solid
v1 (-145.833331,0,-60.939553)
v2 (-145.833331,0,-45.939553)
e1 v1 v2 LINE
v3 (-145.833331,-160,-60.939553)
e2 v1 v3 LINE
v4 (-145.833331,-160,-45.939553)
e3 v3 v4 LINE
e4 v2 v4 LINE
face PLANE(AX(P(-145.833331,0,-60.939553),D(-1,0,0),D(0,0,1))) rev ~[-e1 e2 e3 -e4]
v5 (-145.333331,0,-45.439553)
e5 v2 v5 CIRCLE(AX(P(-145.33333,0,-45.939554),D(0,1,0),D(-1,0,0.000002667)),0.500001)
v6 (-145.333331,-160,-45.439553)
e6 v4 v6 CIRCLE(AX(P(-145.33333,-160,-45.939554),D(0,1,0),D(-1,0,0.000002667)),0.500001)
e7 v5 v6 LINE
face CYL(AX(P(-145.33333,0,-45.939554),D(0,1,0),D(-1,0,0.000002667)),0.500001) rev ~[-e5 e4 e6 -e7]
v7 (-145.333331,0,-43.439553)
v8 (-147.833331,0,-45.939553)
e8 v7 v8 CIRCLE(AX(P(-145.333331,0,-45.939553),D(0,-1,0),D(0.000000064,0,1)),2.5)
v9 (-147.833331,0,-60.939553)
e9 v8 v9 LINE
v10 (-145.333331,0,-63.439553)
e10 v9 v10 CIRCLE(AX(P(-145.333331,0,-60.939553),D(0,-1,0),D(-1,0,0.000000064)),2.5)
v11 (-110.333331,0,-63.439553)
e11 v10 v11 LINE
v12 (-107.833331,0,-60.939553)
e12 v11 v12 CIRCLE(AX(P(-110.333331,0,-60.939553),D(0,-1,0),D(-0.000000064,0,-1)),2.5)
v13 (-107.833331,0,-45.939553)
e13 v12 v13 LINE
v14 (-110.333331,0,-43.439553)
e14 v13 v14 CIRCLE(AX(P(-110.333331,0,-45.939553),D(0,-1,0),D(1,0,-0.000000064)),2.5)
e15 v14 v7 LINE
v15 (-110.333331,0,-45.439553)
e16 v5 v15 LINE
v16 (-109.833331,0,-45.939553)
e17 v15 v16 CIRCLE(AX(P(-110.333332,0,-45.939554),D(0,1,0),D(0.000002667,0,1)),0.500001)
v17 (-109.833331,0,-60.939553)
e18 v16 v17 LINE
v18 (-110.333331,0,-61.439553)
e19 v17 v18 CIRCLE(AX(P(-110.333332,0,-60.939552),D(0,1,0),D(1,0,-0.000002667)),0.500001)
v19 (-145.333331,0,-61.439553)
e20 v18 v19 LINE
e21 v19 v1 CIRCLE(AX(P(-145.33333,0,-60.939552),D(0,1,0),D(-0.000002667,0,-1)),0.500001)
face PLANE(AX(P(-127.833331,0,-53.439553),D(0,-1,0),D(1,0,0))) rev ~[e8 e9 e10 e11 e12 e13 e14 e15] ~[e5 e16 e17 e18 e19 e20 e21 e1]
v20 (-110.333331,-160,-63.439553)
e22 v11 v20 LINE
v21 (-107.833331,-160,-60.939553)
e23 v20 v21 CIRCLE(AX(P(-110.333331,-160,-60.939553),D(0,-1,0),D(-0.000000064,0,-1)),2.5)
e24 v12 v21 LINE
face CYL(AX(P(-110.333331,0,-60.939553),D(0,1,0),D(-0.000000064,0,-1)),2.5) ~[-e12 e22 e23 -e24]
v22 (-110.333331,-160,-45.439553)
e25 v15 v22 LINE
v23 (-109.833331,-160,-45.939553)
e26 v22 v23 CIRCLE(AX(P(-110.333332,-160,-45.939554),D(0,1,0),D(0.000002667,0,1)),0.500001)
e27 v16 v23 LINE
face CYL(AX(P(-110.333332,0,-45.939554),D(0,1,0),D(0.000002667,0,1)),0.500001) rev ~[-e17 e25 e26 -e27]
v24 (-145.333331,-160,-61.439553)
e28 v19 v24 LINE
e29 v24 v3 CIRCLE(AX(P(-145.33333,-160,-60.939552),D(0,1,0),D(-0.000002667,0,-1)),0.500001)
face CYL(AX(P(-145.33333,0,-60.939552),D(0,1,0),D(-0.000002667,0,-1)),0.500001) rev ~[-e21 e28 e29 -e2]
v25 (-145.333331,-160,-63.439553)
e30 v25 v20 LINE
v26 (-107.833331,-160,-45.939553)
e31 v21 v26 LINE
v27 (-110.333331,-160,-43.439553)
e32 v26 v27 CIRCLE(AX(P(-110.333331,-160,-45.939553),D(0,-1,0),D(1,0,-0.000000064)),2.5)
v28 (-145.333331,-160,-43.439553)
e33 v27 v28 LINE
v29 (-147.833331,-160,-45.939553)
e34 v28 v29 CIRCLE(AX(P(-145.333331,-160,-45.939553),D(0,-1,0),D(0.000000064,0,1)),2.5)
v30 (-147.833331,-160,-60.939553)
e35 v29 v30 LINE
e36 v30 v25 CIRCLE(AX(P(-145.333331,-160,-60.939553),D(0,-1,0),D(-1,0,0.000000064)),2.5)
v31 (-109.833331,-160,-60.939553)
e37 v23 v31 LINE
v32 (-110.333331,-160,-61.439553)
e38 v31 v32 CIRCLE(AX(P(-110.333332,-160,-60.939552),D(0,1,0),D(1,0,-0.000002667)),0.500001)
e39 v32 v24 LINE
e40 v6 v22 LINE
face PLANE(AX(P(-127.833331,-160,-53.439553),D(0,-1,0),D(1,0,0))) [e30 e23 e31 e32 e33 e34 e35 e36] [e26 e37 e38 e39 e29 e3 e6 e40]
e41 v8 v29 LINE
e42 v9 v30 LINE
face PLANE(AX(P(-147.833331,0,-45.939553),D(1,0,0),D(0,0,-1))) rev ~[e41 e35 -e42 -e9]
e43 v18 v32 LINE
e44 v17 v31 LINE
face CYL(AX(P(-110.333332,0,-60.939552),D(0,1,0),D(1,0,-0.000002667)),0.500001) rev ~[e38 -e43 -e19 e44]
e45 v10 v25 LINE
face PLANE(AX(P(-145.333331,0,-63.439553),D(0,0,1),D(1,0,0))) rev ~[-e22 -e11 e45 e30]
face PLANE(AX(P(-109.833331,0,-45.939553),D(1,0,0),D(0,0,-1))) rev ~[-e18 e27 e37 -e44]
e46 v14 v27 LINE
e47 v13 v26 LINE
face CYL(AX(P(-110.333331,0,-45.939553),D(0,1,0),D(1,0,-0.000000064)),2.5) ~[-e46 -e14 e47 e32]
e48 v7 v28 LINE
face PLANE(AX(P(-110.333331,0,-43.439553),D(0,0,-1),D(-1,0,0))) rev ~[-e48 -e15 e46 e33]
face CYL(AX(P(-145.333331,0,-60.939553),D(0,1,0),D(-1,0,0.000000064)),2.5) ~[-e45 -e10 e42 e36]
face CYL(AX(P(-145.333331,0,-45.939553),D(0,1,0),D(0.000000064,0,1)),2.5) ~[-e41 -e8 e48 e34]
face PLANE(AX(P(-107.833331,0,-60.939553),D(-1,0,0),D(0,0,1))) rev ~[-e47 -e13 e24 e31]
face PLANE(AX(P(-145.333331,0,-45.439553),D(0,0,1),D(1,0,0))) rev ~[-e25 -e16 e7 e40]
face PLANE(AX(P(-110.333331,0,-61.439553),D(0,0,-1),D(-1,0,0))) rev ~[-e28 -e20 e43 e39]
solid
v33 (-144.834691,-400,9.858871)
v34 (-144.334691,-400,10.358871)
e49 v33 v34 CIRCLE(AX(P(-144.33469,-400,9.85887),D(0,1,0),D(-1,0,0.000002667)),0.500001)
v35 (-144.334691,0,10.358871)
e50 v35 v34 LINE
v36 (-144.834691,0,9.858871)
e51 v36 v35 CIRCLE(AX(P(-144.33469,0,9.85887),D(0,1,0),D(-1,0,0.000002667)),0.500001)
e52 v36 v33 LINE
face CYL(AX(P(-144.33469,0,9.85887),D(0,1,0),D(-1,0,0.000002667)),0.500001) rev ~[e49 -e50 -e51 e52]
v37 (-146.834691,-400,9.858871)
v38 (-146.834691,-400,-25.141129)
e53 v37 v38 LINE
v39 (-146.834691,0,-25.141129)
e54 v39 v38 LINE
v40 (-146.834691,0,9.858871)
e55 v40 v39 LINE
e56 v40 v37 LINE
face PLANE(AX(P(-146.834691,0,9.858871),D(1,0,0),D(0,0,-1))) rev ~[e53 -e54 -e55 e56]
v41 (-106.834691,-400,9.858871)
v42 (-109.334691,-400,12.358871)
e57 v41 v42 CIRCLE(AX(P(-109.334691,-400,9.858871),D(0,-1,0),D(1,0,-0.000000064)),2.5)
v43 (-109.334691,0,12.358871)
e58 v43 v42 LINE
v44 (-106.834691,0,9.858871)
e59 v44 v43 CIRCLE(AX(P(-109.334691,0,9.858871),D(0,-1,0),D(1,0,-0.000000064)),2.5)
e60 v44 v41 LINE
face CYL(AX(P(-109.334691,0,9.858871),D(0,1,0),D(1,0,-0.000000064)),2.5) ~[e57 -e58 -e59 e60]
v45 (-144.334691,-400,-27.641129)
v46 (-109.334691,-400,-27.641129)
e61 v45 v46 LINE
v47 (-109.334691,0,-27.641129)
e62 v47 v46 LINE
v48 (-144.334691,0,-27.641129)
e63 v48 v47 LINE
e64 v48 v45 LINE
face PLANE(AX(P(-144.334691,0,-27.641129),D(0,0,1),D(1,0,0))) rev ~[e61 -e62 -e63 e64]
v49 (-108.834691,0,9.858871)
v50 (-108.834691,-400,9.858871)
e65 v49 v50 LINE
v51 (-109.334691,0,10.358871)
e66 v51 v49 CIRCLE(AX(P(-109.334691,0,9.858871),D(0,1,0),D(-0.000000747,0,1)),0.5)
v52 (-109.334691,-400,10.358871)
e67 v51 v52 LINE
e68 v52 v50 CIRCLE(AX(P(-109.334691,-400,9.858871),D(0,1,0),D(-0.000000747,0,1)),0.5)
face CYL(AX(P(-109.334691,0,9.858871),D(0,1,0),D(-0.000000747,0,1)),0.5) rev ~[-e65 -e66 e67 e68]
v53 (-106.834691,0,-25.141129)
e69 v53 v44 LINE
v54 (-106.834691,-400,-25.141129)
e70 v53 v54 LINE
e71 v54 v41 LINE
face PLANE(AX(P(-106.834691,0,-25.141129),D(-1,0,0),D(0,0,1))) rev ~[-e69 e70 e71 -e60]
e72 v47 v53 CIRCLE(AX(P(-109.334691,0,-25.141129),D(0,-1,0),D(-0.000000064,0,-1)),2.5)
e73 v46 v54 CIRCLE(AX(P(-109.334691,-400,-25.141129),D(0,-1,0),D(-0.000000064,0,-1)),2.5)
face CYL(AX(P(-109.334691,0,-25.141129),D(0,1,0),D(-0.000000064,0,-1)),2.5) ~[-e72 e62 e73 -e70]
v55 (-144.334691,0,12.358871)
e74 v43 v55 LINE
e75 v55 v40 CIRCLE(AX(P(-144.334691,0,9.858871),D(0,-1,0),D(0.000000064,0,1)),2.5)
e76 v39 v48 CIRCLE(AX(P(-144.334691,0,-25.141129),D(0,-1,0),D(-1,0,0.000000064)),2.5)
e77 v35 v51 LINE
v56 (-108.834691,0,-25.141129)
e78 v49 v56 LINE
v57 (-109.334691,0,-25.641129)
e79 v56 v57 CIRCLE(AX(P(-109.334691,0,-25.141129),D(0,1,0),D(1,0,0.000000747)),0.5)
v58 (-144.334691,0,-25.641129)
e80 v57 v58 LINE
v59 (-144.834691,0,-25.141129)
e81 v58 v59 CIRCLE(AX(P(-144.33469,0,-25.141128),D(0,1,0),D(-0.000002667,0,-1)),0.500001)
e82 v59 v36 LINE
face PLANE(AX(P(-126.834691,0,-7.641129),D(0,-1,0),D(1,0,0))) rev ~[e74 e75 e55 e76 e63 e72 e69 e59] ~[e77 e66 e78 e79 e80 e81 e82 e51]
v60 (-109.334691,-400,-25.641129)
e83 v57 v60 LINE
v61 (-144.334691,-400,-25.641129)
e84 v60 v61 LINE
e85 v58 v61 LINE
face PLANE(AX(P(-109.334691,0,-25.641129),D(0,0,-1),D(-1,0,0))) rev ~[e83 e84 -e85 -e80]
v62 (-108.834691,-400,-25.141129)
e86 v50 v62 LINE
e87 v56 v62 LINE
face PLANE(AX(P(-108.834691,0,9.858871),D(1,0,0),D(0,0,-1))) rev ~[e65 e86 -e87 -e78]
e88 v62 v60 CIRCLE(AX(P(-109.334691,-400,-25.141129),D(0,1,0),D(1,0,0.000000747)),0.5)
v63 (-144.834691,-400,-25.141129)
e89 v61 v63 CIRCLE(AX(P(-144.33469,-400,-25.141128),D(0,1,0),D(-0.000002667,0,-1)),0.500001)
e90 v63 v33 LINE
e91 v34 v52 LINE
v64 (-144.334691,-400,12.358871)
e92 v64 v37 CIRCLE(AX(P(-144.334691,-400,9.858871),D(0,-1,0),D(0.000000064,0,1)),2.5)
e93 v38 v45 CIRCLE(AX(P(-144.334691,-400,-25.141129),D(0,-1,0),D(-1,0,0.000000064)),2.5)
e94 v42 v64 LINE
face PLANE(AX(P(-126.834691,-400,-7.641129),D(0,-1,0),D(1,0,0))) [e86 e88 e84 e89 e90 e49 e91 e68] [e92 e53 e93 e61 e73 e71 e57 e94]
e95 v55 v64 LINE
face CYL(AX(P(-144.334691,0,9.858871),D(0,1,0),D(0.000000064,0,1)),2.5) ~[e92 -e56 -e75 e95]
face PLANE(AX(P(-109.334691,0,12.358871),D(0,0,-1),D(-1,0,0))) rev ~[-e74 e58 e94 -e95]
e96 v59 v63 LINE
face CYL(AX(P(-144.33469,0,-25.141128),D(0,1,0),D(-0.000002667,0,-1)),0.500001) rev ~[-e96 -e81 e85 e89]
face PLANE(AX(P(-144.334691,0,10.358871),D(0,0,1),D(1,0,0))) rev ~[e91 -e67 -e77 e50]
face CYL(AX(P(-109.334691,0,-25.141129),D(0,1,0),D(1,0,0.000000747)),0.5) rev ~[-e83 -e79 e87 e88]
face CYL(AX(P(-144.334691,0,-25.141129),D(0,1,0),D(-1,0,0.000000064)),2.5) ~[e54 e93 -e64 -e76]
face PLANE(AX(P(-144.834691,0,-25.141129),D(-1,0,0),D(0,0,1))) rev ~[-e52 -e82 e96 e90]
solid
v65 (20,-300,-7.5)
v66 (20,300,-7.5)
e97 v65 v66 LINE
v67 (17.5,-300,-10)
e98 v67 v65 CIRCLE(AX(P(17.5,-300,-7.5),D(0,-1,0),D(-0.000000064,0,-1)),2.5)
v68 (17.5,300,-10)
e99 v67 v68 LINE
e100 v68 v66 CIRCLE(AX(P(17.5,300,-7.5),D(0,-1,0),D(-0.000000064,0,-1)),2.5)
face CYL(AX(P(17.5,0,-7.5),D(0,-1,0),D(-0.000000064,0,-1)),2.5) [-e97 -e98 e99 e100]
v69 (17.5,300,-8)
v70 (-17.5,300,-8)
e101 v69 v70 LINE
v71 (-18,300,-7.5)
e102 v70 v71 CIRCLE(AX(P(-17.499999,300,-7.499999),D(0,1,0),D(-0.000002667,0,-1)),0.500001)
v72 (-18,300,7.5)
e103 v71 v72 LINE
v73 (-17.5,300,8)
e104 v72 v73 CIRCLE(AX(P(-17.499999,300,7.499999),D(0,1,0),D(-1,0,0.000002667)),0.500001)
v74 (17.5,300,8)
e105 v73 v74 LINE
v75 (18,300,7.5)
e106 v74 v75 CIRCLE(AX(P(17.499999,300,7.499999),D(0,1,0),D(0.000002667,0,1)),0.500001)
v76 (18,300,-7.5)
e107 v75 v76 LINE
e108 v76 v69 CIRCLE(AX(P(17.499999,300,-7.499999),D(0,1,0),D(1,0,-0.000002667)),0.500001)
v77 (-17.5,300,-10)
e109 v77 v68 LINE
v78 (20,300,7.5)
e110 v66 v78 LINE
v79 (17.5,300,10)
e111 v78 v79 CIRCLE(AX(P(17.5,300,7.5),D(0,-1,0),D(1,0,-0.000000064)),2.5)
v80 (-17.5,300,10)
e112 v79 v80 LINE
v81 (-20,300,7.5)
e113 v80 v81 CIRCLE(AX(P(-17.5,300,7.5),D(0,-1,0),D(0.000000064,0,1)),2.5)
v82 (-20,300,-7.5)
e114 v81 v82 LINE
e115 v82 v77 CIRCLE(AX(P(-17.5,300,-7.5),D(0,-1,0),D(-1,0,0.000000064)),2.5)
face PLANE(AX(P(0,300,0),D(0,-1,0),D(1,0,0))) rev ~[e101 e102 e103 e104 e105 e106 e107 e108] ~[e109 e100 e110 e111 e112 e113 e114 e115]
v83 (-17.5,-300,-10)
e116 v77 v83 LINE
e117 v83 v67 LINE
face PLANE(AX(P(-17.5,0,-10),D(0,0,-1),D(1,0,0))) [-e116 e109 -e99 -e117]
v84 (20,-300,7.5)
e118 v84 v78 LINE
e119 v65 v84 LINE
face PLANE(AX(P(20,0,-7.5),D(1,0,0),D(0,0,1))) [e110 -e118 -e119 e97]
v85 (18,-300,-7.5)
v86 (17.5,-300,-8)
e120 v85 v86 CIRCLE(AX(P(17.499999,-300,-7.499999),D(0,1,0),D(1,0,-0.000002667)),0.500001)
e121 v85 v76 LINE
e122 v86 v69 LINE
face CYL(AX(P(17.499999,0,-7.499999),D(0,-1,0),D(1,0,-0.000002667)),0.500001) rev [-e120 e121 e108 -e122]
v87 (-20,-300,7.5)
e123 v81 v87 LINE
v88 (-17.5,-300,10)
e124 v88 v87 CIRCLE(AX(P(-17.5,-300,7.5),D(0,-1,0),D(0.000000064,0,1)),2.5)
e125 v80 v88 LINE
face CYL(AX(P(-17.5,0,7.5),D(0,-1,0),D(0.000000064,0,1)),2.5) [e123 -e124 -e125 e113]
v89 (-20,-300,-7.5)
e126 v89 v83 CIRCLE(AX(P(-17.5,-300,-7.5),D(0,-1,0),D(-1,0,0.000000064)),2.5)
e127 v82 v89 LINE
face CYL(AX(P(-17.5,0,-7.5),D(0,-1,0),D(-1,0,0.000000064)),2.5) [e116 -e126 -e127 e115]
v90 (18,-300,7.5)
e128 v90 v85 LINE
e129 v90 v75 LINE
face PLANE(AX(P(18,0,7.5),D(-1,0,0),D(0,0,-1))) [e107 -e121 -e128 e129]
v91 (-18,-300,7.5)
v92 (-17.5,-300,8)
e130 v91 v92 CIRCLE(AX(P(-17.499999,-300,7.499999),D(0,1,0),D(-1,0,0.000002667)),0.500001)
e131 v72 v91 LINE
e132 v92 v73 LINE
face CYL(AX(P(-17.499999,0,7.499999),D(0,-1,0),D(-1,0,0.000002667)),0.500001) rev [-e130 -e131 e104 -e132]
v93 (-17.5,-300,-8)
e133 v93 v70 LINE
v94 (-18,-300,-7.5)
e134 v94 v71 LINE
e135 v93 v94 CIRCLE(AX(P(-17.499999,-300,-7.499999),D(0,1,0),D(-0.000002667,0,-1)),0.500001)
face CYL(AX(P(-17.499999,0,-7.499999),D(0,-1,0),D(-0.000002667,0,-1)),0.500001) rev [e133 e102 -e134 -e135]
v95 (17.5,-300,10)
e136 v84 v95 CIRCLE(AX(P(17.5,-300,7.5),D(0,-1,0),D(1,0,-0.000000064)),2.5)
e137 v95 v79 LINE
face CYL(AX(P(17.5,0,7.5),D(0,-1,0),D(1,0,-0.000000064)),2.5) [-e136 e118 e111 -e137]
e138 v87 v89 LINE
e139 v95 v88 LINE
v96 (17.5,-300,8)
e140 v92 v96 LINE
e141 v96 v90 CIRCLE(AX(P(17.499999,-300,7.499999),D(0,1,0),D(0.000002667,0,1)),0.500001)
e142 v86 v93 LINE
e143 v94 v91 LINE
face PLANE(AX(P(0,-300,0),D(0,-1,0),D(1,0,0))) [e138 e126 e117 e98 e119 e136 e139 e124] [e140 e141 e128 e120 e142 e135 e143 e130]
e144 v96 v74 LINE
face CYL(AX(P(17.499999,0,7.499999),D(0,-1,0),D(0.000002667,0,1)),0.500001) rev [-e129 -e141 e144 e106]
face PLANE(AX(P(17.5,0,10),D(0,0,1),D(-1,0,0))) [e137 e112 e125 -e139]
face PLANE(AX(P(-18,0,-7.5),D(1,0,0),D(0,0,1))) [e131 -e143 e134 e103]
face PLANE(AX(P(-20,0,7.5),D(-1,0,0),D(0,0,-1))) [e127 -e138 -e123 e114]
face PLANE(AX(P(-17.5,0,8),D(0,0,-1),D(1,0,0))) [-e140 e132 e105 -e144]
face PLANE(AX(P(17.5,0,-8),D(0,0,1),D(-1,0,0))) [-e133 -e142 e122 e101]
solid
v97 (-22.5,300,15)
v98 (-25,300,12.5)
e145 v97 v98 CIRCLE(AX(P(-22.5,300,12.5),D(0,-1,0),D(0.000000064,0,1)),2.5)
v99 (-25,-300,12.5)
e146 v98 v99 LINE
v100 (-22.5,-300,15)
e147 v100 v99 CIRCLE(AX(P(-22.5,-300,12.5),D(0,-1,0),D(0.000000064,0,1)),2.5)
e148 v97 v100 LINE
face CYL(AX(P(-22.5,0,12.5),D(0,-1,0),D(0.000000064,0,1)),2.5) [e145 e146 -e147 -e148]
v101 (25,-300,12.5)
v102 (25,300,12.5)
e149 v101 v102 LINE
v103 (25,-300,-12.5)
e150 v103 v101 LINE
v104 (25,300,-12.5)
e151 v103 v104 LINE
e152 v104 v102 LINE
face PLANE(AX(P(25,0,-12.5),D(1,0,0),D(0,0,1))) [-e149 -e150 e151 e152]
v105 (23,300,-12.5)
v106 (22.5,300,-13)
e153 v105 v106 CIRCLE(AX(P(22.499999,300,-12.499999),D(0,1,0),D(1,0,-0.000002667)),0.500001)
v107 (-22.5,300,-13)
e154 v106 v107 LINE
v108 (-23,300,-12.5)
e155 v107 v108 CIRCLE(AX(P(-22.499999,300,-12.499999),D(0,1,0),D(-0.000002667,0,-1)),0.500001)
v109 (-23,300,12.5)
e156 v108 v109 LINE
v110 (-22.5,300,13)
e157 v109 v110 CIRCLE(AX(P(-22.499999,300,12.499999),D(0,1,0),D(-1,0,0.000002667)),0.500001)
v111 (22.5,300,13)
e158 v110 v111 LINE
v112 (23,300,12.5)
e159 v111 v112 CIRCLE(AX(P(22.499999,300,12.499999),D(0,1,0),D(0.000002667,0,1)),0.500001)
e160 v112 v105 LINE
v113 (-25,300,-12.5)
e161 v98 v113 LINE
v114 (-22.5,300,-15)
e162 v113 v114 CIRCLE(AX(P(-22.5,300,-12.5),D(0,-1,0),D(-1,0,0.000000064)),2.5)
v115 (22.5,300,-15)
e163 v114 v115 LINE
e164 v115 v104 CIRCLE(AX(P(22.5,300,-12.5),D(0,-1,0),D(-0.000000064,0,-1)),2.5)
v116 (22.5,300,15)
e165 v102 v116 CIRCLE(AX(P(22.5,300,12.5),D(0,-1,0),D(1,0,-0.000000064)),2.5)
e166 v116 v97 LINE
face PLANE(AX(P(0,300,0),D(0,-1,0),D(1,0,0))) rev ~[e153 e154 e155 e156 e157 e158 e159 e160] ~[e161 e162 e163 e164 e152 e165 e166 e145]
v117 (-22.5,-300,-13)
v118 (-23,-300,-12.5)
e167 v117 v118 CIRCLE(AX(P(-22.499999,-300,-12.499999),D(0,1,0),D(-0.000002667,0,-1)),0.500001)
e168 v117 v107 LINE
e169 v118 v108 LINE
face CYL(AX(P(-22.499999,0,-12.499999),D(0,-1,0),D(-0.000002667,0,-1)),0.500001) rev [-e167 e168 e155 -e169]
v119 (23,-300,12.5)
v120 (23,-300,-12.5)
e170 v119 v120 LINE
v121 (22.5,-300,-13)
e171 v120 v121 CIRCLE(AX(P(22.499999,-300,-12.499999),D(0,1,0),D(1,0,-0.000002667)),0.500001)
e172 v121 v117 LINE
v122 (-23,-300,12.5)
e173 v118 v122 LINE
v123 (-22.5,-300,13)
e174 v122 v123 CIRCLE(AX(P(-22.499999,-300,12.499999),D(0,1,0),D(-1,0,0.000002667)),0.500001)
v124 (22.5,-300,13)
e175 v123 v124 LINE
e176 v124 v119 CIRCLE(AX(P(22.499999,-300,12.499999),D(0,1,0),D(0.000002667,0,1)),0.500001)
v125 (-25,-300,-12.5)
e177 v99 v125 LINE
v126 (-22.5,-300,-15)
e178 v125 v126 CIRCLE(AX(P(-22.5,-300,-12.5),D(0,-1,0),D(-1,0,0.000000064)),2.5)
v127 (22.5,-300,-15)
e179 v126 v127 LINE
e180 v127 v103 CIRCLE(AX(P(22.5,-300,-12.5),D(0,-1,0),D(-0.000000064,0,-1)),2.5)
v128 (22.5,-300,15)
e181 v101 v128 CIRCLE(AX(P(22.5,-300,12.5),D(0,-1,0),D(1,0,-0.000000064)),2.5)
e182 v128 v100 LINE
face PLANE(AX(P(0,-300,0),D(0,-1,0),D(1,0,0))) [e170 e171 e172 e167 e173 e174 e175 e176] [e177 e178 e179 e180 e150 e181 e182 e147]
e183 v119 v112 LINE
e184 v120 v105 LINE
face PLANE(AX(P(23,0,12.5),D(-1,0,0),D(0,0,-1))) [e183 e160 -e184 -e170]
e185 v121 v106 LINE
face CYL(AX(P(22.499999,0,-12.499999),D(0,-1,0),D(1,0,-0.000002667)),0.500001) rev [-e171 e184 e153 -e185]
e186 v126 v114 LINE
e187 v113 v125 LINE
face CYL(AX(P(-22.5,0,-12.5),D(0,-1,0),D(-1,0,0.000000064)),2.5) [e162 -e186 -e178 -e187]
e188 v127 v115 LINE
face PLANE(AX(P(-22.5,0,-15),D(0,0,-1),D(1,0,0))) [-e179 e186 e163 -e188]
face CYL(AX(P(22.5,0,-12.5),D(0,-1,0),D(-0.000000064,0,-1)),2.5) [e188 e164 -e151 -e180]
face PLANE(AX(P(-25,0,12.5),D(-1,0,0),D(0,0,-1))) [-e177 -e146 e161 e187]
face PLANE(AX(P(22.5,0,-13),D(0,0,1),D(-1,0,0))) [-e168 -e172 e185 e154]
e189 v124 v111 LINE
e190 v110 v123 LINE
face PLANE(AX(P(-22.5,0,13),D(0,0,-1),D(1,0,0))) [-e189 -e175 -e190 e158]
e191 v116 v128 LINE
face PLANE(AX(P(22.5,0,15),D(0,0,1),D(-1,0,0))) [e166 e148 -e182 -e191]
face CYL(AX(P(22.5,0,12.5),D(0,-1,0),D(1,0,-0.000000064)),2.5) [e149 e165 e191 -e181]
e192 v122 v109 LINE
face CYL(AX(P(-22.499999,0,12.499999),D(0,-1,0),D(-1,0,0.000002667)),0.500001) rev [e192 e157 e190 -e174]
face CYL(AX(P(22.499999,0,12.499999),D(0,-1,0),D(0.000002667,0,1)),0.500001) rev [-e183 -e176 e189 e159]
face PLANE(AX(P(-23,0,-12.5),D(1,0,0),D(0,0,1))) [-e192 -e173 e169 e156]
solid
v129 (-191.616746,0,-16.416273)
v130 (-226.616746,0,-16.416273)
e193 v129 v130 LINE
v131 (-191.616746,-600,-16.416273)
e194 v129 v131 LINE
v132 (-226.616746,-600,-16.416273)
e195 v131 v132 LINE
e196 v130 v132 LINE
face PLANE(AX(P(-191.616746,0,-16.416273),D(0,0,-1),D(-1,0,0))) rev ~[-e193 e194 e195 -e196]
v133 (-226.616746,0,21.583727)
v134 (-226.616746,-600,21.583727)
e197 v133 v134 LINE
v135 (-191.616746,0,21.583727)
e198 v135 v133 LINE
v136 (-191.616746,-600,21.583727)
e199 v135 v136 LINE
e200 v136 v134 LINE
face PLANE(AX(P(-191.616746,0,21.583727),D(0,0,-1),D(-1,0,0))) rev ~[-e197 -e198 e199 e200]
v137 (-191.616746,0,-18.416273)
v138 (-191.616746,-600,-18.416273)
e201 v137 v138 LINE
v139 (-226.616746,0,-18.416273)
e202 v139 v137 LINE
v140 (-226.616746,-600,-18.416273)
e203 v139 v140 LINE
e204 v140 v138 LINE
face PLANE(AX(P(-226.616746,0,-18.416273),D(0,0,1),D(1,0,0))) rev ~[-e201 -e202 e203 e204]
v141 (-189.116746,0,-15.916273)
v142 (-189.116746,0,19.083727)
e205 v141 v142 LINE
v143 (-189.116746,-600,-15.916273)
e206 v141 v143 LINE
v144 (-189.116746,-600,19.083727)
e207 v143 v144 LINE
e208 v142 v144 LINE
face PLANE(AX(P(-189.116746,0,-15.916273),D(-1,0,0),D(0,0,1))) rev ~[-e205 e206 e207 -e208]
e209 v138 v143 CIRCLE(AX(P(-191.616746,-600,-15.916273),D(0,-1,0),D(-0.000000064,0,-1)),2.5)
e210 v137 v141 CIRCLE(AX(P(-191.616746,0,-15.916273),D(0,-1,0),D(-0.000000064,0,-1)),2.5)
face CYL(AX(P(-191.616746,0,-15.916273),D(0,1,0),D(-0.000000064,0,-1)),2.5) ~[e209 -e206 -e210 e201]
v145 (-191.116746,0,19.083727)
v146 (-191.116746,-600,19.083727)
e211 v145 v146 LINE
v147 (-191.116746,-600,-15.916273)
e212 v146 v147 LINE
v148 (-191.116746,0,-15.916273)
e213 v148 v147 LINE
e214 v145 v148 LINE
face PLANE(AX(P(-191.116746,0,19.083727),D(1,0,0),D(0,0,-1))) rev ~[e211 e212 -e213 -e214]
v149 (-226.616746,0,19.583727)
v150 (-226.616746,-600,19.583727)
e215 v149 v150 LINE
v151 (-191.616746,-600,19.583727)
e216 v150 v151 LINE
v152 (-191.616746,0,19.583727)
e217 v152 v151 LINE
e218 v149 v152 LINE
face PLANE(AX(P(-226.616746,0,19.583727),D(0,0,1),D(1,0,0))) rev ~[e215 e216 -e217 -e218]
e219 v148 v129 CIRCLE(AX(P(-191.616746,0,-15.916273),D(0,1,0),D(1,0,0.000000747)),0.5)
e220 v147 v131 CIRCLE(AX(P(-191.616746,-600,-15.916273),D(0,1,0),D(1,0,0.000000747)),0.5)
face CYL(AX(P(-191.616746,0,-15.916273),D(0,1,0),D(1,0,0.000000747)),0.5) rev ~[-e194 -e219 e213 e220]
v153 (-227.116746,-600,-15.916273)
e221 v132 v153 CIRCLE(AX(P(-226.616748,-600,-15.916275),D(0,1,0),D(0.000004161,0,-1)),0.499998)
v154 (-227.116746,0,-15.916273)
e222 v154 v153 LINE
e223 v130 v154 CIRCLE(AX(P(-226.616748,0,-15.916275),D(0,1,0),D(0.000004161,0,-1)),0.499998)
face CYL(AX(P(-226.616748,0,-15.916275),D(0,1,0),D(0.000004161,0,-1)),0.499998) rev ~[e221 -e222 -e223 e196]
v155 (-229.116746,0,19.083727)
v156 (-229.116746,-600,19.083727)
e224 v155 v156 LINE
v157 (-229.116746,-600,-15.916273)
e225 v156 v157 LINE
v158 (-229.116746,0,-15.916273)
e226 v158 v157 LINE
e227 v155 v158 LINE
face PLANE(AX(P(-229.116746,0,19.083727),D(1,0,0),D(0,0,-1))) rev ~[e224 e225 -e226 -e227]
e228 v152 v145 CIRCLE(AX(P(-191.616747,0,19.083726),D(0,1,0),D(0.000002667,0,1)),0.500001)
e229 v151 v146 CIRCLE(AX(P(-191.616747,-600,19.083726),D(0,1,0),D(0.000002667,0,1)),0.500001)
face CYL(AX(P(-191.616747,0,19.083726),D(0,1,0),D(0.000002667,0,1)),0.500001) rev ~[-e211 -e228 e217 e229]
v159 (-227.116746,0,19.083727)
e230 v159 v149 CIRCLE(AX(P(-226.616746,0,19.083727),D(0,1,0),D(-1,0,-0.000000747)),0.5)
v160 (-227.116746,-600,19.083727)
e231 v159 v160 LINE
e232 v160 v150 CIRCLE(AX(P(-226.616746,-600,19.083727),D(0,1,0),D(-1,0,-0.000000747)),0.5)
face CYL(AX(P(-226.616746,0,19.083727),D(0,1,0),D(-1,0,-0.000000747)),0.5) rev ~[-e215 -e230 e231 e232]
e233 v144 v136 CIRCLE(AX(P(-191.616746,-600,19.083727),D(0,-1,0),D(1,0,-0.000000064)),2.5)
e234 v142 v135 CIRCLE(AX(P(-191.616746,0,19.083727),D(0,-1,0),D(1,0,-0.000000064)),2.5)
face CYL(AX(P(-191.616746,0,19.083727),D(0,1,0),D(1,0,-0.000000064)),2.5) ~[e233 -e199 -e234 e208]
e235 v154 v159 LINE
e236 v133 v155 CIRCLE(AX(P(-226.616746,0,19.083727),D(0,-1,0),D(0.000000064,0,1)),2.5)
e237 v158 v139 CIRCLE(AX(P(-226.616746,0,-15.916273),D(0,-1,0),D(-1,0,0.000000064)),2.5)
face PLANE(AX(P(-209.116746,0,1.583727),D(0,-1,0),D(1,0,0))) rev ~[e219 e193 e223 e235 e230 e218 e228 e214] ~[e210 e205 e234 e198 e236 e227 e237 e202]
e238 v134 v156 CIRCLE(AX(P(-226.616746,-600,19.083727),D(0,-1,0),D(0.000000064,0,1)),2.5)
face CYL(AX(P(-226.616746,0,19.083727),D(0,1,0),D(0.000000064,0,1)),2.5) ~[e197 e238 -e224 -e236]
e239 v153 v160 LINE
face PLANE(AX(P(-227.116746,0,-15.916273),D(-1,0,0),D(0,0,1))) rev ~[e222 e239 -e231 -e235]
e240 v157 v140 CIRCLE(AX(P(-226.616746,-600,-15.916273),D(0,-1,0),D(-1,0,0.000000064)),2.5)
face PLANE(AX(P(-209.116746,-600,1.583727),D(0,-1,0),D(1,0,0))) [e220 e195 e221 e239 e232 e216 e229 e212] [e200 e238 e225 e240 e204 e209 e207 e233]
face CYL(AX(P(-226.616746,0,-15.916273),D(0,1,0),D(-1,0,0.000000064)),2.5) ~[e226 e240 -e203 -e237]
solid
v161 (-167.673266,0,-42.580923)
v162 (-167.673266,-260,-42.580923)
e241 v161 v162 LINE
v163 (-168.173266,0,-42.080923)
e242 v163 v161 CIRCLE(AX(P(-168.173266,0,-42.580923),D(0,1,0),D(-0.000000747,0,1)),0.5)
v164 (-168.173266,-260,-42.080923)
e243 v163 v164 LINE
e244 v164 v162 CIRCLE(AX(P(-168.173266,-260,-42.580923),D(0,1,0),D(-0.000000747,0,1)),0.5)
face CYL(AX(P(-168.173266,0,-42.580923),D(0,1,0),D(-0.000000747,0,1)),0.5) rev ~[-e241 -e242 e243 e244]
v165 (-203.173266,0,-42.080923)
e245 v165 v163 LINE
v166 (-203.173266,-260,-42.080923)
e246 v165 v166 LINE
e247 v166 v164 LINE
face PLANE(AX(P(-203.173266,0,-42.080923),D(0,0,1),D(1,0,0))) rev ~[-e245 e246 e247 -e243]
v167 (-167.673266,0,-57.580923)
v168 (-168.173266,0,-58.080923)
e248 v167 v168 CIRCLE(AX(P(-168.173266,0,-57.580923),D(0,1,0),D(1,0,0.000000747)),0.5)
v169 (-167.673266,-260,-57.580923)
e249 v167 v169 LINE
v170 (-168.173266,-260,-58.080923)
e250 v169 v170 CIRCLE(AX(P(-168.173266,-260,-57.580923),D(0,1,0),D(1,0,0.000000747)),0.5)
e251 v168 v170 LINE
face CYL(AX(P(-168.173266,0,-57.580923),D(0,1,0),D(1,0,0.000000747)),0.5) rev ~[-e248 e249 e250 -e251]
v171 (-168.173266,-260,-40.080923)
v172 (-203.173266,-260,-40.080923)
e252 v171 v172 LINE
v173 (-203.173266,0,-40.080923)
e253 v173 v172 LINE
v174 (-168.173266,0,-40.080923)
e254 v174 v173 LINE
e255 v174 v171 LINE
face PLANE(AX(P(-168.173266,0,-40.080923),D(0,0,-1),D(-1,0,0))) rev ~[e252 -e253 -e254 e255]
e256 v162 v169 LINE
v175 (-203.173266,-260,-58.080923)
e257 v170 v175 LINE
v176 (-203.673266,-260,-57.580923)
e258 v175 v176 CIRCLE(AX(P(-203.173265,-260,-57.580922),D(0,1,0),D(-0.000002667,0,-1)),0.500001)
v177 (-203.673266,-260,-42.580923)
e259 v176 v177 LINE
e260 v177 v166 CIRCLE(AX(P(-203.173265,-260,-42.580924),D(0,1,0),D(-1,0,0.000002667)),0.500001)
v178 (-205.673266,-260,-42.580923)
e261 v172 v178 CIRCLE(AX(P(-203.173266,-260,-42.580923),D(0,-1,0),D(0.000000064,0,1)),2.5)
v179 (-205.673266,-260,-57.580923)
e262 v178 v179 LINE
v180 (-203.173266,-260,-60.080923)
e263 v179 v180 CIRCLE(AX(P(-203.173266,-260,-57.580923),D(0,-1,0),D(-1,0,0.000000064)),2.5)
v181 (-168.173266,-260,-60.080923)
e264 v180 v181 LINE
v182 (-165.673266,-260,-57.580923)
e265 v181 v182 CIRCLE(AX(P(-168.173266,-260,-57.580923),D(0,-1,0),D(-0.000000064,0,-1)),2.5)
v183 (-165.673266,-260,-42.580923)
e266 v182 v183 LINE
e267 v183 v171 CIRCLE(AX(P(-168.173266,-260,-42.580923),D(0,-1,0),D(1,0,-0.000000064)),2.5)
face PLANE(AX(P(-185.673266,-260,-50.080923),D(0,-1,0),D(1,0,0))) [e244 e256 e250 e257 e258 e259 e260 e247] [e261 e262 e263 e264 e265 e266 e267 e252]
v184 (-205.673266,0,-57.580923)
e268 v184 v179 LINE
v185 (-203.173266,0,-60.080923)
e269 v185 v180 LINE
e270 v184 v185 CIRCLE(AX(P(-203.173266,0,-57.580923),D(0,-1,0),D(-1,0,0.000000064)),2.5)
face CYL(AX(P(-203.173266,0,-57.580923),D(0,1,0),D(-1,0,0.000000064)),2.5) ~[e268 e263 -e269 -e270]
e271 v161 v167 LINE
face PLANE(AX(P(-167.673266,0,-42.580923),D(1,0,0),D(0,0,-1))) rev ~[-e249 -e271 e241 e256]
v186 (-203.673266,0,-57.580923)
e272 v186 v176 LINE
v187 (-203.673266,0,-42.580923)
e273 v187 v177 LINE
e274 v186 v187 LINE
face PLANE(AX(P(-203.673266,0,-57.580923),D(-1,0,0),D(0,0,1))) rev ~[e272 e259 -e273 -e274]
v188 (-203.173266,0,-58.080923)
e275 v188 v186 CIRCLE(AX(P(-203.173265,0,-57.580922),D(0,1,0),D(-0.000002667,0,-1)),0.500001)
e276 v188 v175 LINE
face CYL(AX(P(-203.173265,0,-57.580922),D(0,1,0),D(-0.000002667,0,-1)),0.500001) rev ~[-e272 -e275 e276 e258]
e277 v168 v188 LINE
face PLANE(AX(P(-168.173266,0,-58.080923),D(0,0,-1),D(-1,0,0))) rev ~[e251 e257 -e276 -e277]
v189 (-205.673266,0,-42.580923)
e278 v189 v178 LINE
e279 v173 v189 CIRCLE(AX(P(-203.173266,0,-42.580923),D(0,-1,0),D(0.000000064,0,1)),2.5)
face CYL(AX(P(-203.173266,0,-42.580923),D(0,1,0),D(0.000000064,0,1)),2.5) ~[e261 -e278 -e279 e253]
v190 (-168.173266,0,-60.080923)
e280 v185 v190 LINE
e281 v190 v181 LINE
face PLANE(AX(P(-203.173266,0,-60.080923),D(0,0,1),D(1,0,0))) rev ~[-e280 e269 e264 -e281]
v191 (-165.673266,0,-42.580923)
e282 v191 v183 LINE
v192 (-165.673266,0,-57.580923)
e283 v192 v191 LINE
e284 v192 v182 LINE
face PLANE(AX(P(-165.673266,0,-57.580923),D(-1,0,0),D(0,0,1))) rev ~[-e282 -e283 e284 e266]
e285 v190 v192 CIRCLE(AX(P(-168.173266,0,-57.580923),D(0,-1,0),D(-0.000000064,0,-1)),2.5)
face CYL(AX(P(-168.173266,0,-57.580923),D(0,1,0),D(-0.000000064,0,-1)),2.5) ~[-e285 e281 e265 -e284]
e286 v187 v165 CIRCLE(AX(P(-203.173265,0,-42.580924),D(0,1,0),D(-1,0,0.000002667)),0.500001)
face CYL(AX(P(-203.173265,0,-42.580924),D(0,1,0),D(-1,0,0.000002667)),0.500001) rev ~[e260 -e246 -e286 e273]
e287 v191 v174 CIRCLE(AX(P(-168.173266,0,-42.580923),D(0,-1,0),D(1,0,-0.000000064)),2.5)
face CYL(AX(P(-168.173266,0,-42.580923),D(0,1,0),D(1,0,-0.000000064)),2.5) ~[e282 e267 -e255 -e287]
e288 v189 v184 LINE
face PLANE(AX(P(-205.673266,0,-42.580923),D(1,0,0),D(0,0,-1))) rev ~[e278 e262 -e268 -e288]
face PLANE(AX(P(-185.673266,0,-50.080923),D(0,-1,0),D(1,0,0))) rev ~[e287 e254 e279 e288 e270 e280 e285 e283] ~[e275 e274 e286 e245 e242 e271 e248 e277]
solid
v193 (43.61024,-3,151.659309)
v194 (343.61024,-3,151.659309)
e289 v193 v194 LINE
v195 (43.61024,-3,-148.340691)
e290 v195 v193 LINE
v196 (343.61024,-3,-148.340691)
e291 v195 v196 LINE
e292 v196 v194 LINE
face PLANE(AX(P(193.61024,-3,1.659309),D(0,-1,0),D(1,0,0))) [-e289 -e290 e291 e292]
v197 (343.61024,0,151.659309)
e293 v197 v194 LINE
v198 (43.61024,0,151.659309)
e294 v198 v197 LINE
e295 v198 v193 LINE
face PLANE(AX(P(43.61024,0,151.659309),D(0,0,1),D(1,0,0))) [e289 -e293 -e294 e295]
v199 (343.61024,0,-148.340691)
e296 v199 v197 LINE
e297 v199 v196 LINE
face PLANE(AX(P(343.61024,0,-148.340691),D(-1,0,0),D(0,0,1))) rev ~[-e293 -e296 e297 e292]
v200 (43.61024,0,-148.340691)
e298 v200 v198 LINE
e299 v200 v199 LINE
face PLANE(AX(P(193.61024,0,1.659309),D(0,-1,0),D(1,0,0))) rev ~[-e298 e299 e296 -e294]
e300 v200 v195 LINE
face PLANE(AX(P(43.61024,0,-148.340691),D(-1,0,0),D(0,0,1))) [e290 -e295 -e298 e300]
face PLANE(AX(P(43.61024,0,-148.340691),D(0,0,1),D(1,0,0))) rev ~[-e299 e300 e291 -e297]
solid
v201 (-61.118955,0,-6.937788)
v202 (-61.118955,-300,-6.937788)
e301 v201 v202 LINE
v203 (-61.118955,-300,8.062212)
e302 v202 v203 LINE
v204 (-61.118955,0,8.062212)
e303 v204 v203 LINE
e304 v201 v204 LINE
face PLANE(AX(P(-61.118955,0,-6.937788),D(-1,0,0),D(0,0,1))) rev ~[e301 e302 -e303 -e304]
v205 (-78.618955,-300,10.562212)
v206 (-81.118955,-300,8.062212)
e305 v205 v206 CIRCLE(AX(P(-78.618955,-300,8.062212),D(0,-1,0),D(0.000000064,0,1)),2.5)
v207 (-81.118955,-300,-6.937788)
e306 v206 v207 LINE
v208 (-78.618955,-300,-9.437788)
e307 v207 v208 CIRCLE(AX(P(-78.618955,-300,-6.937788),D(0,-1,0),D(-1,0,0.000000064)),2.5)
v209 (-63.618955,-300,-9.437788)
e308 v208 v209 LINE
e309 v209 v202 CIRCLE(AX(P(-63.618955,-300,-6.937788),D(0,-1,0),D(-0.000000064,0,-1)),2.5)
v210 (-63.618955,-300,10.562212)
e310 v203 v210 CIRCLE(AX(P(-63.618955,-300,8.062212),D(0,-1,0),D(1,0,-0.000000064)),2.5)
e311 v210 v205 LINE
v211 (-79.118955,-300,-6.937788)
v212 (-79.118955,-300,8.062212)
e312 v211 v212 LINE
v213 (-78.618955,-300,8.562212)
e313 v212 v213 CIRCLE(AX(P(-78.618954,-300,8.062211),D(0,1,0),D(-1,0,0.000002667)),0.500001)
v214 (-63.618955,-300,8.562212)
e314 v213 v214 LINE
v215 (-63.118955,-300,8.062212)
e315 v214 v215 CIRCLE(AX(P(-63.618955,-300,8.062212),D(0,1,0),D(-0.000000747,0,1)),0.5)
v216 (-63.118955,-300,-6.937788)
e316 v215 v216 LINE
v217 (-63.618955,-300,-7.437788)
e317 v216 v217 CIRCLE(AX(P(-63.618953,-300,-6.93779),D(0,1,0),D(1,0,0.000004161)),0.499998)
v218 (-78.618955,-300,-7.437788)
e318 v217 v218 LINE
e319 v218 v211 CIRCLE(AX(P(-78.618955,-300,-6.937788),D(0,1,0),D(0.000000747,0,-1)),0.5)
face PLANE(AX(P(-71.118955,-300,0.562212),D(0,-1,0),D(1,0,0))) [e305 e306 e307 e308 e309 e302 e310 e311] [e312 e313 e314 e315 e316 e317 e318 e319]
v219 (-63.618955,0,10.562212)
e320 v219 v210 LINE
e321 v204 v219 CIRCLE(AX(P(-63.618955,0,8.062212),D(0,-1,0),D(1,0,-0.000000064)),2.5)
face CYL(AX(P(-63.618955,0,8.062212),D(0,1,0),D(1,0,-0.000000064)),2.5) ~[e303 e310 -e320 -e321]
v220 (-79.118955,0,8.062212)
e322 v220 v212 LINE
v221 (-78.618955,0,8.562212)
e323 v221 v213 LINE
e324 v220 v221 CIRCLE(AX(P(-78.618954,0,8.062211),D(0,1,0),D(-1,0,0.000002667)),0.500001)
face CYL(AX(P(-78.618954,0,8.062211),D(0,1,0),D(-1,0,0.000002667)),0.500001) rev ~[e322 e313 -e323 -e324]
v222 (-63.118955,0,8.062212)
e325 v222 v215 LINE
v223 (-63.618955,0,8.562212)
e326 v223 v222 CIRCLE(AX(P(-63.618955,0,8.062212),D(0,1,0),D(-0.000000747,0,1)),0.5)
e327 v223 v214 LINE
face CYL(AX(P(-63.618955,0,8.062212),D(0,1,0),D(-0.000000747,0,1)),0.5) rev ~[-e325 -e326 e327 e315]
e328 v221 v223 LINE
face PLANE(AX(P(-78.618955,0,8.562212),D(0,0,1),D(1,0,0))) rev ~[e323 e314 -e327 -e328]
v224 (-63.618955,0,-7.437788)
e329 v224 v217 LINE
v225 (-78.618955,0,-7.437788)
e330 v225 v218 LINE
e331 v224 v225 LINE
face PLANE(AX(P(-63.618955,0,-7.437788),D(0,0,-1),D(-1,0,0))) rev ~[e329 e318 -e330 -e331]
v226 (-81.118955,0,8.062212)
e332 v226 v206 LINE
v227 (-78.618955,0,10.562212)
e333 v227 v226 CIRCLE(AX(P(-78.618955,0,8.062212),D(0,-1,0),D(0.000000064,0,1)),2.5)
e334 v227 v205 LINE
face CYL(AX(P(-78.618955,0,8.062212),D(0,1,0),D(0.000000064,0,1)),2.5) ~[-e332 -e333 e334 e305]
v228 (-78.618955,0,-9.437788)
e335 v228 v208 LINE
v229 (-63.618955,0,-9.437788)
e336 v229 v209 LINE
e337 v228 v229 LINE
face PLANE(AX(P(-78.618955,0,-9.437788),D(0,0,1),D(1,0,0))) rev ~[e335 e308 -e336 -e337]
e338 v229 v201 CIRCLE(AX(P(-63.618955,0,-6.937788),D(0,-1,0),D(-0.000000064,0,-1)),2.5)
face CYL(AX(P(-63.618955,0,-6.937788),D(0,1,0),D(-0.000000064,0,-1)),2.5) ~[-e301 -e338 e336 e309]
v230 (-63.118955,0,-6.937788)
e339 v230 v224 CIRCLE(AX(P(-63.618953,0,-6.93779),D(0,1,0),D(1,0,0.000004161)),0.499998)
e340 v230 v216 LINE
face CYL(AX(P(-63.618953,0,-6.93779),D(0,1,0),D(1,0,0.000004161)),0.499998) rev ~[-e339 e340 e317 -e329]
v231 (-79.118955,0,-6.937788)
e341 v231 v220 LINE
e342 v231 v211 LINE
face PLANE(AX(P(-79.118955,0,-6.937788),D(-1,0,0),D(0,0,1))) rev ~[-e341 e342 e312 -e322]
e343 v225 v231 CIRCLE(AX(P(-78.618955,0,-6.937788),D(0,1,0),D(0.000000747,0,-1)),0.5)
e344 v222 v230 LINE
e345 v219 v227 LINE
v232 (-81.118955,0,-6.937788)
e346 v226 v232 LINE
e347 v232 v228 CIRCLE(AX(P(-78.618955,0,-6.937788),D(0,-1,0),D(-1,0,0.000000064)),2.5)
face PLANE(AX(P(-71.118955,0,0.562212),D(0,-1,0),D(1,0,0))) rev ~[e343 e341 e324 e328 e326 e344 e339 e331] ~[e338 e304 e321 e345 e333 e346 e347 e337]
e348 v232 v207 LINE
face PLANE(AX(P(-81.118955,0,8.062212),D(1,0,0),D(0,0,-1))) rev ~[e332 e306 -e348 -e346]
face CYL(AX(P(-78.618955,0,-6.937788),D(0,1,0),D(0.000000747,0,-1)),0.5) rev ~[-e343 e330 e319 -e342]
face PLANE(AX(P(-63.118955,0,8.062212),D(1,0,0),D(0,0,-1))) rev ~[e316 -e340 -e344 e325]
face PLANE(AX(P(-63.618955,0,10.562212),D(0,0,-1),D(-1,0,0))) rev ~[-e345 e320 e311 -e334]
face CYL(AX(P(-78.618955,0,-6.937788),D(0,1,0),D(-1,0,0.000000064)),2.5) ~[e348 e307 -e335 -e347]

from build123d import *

# Parameters (mm, degrees)
F1_DEPTH  = 300
F3_DEPTH  = 300
F6_DEPTH  = 300
F8_DEPTH  = 160
F9_W      = 300
F9_H      = 300
F10_DEPTH = 3
F12_DEPTH = 260
F14_DEPTH = 600
F15_DEPTH = 400


with BuildPart() as f1:
    # F0 (on Front) → F1 (new body, symmetric)
    with BuildSketch(Plane.XZ):
        with BuildLine():
            ThreePointArc((25, 12.5), (24.267767, 14.267767), (22.5, 15))
            Line((22.5, 15), (-22.5, 15))
            ThreePointArc((-22.5, 15), (-24.267767, 14.267767), (-25, 12.5))
            Line((-25, 12.5), (-25, -12.5))
            ThreePointArc((-25, -12.5), (-24.267767, -14.267767), (-22.5, -15))
            Line((-22.5, -15), (22.5, -15))
            ThreePointArc((22.5, -15), (24.267767, -14.267767), (25, -12.5))
            Line((25, -12.5), (25, 12.5))
        make_face()
        with BuildLine():
            Line((-22.5, 13), (22.5, 13))
            ThreePointArc((22.5, 13), (22.853553, 12.853553), (23, 12.5))
            Line((23, 12.5), (23, -12.5))
            ThreePointArc((23, -12.5), (22.853553, -12.853553), (22.5, -13))
            Line((22.5, -13), (-22.5, -13))
            ThreePointArc((-22.5, -13), (-22.853553, -12.853553), (-23, -12.5))
            Line((-23, -12.5), (-23, 12.5))
            ThreePointArc((-23, 12.5), (-22.853553, 12.853553), (-22.5, 13))
        make_face(mode=Mode.SUBTRACT)
    extrude(amount=F1_DEPTH, both=True)


with BuildPart() as f3:
    # F2 (on Front) → F3 (new body, symmetric)
    with BuildSketch(Plane.XZ):
        with BuildLine():
            Line((17.5, 10), (-17.5, 10))
            ThreePointArc((-17.5, 10), (-19.267767, 9.267767), (-20, 7.5))
            Line((-20, 7.5), (-20, -7.5))
            ThreePointArc((-20, -7.5), (-19.267767, -9.267767), (-17.5, -10))
            Line((-17.5, -10), (17.5, -10))
            ThreePointArc((17.5, -10), (19.267767, -9.267767), (20, -7.5))
            Line((20, -7.5), (20, 7.5))
            ThreePointArc((20, 7.5), (19.267767, 9.267767), (17.5, 10))
        make_face()
        with BuildLine():
            ThreePointArc((-18, 7.5), (-17.853553, 7.853553), (-17.5, 8))
            Line((-17.5, 8), (17.5, 8))
            ThreePointArc((17.5, 8), (17.853553, 7.853553), (18, 7.5))
            Line((18, 7.5), (18, -7.5))
            ThreePointArc((18, -7.5), (17.853553, -7.853553), (17.5, -8))
            Line((17.5, -8), (-17.5, -8))
            ThreePointArc((-17.5, -8), (-17.853553, -7.853553), (-18, -7.5))
            Line((-18, -7.5), (-18, 7.5))
        make_face(mode=Mode.SUBTRACT)
    extrude(amount=F3_DEPTH, both=True)


with BuildPart() as f6:
    # F5 (on Front) → F6 (new body)
    with BuildSketch(Plane.XZ):
        with BuildLine():
            Line((-63.618955, 10.562212), (-78.618955, 10.562212))
            ThreePointArc((-78.618955, 10.562212), (-80.386722, 9.829979), (-81.118955, 8.062212))
            Line((-81.118955, 8.062212), (-81.118955, -6.937788))
            ThreePointArc((-81.118955, -6.937788), (-80.386722, -8.705555), (-78.618955, -9.437788))
            Line((-78.618955, -9.437788), (-63.618955, -9.437788))
            ThreePointArc((-63.618955, -9.437788), (-61.851188, -8.705555), (-61.118955, -6.937788))
            Line((-61.118955, -6.937788), (-61.118955, 8.062212))
            ThreePointArc((-61.118955, 8.062212), (-61.851188, 9.829979), (-63.618955, 10.562212))
        make_face()
        with BuildLine():
            ThreePointArc((-79.118955, 8.062212), (-78.972508, 8.415765), (-78.618955, 8.562212))
            Line((-78.618955, 8.562212), (-63.618955, 8.562212))
            ThreePointArc((-63.618955, 8.562212), (-63.265401, 8.415765), (-63.118955, 8.062212))
            Line((-63.118955, 8.062212), (-63.118955, -6.937788))
            ThreePointArc((-63.118955, -6.937788), (-63.265401, -7.291342), (-63.618955, -7.437788))
            Line((-63.618955, -7.437788), (-78.618955, -7.437788))
            ThreePointArc((-78.618955, -7.437788), (-78.972508, -7.291342), (-79.118955, -6.937788))
            Line((-79.118955, -6.937788), (-79.118955, 8.062212))
        make_face(mode=Mode.SUBTRACT)
    extrude(amount=F6_DEPTH)


with BuildPart() as f8:
    # F7 (on Front) → F8 (new body)
    with BuildSketch(Plane.XZ):
        with BuildLine():
            Line((-110.333331, -43.439553), (-145.333331, -43.439553))
            ThreePointArc((-145.333331, -43.439553), (-147.101098, -44.171786), (-147.833331, -45.939553))
            Line((-147.833331, -45.939553), (-147.833331, -60.939553))
            ThreePointArc((-147.833331, -60.939553), (-147.101098, -62.70732), (-145.333331, -63.439553))
            Line((-145.333331, -63.439553), (-110.333331, -63.439553))
            ThreePointArc((-110.333331, -63.439553), (-108.565564, -62.70732), (-107.833331, -60.939553))
            Line((-107.833331, -60.939553), (-107.833331, -45.939553))
            ThreePointArc((-107.833331, -45.939553), (-108.565564, -44.171786), (-110.333331, -43.439553))
        make_face()
        with BuildLine():
            ThreePointArc((-145.833331, -45.939553), (-145.686884, -45.586), (-145.333331, -45.439553))
            Line((-145.333331, -45.439553), (-110.333331, -45.439553))
            ThreePointArc((-110.333331, -45.439553), (-109.979778, -45.586), (-109.833331, -45.939553))
            Line((-109.833331, -45.939553), (-109.833331, -60.939553))
            ThreePointArc((-109.833331, -60.939553), (-109.979778, -61.293106), (-110.333331, -61.439553))
            Line((-110.333331, -61.439553), (-145.333331, -61.439553))
            ThreePointArc((-145.333331, -61.439553), (-145.686884, -61.293106), (-145.833331, -60.939553))
            Line((-145.833331, -60.939553), (-145.833331, -45.939553))
        make_face(mode=Mode.SUBTRACT)
    extrude(amount=F8_DEPTH)


with BuildPart() as f10:
    # F9 (on Front) → F10 (new body)
    with BuildSketch(Plane.XZ):
        with Locations((193.61024, 1.659309)):
            Rectangle(F9_W, F9_H)
    extrude(amount=F10_DEPTH)


with BuildPart() as f12:
    # F11 (on Front) → F12 (new body)
    with BuildSketch(Plane.XZ):
        with BuildLine():
            Line((-168.173266, -40.080923), (-203.173266, -40.080923))
            ThreePointArc((-203.173266, -40.080923), (-204.941033, -40.813156), (-205.673266, -42.580923))
            Line((-205.673266, -42.580923), (-205.673266, -57.580923))
            ThreePointArc((-205.673266, -57.580923), (-204.941033, -59.34869), (-203.173266, -60.080923))
            Line((-203.173266, -60.080923), (-168.173266, -60.080923))
            ThreePointArc((-168.173266, -60.080923), (-166.405499, -59.34869), (-165.673266, -57.580923))
            Line((-165.673266, -57.580923), (-165.673266, -42.580923))
            ThreePointArc((-165.673266, -42.580923), (-166.405499, -40.813156), (-168.173266, -40.080923))
        make_face()
        with BuildLine():
            ThreePointArc((-203.673266, -42.580923), (-203.526819, -42.22737), (-203.173266, -42.080923))
            Line((-203.173266, -42.080923), (-168.173266, -42.080923))
            ThreePointArc((-168.173266, -42.080923), (-167.819712, -42.22737), (-167.673266, -42.580923))
            Line((-167.673266, -42.580923), (-167.673266, -57.580923))
            ThreePointArc((-167.673266, -57.580923), (-167.819712, -57.934476), (-168.173266, -58.080923))
            Line((-168.173266, -58.080923), (-203.173266, -58.080923))
            ThreePointArc((-203.173266, -58.080923), (-203.526819, -57.934476), (-203.673266, -57.580923))
            Line((-203.673266, -57.580923), (-203.673266, -42.580923))
        make_face(mode=Mode.SUBTRACT)
    extrude(amount=F12_DEPTH)


with BuildPart() as f14:
    # F13 (on Front) → F14 (new body)
    with BuildSketch(Plane.XZ):
        with BuildLine():
            Line((-191.616746, 21.583727), (-226.616746, 21.583727))
            ThreePointArc((-226.616746, 21.583727), (-228.384513, 20.851494), (-229.116746, 19.083727))
            Line((-229.116746, 19.083727), (-229.116746, -15.916273))
            ThreePointArc((-229.116746, -15.916273), (-228.384513, -17.68404), (-226.616746, -18.416273))
            Line((-226.616746, -18.416273), (-191.616746, -18.416273))
            ThreePointArc((-191.616746, -18.416273), (-189.848979, -17.68404), (-189.116746, -15.916273))
            Line((-189.116746, -15.916273), (-189.116746, 19.083727))
            ThreePointArc((-189.116746, 19.083727), (-189.848979, 20.851494), (-191.616746, 21.583727))
        make_face()
        with BuildLine():
            ThreePointArc((-227.116746, 19.083727), (-226.9703, 19.43728), (-226.616746, 19.583727))
            Line((-226.616746, 19.583727), (-191.616746, 19.583727))
            ThreePointArc((-191.616746, 19.583727), (-191.263193, 19.43728), (-191.116746, 19.083727))
            Line((-191.116746, 19.083727), (-191.116746, -15.916273))
            ThreePointArc((-191.116746, -15.916273), (-191.263193, -16.269827), (-191.616746, -16.416273))
            Line((-191.616746, -16.416273), (-226.616746, -16.416273))
            ThreePointArc((-226.616746, -16.416273), (-226.9703, -16.269827), (-227.116746, -15.916273))
            Line((-227.116746, -15.916273), (-227.116746, 19.083727))
        make_face(mode=Mode.SUBTRACT)
    extrude(amount=F14_DEPTH)


with BuildPart() as f15:
    # F4 (on Front) → F15 (new body)
    with BuildSketch(Plane.XZ):
        with BuildLine():
            Line((-109.334691, 12.358871), (-144.334691, 12.358871))
            ThreePointArc((-144.334691, 12.358871), (-146.102458, 11.626638), (-146.834691, 9.858871))
            Line((-146.834691, 9.858871), (-146.834691, -25.141129))
            ThreePointArc((-146.834691, -25.141129), (-146.102458, -26.908896), (-144.334691, -27.641129))
            Line((-144.334691, -27.641129), (-109.334691, -27.641129))
            ThreePointArc((-109.334691, -27.641129), (-107.566924, -26.908896), (-106.834691, -25.141129))
            Line((-106.834691, -25.141129), (-106.834691, 9.858871))
            ThreePointArc((-106.834691, 9.858871), (-107.566924, 11.626638), (-109.334691, 12.358871))
        make_face()
        with BuildLine():
            ThreePointArc((-144.834691, 9.858871), (-144.688244, 10.212424), (-144.334691, 10.358871))
            Line((-144.334691, 10.358871), (-109.334691, 10.358871))
            ThreePointArc((-109.334691, 10.358871), (-108.981137, 10.212424), (-108.834691, 9.858871))
            Line((-108.834691, 9.858871), (-108.834691, -25.141129))
            ThreePointArc((-108.834691, -25.141129), (-108.981137, -25.494682), (-109.334691, -25.641129))
            Line((-109.334691, -25.641129), (-144.334691, -25.641129))
            ThreePointArc((-144.334691, -25.641129), (-144.688244, -25.494682), (-144.834691, -25.141129))
            Line((-144.834691, -25.141129), (-144.834691, 9.858871))
        make_face(mode=Mode.SUBTRACT)
    extrude(amount=F15_DEPTH)


solid = Compound([f1.part, f3.part, f6.part, f8.part, f10.part, f12.part, f14.part, f15.part])
